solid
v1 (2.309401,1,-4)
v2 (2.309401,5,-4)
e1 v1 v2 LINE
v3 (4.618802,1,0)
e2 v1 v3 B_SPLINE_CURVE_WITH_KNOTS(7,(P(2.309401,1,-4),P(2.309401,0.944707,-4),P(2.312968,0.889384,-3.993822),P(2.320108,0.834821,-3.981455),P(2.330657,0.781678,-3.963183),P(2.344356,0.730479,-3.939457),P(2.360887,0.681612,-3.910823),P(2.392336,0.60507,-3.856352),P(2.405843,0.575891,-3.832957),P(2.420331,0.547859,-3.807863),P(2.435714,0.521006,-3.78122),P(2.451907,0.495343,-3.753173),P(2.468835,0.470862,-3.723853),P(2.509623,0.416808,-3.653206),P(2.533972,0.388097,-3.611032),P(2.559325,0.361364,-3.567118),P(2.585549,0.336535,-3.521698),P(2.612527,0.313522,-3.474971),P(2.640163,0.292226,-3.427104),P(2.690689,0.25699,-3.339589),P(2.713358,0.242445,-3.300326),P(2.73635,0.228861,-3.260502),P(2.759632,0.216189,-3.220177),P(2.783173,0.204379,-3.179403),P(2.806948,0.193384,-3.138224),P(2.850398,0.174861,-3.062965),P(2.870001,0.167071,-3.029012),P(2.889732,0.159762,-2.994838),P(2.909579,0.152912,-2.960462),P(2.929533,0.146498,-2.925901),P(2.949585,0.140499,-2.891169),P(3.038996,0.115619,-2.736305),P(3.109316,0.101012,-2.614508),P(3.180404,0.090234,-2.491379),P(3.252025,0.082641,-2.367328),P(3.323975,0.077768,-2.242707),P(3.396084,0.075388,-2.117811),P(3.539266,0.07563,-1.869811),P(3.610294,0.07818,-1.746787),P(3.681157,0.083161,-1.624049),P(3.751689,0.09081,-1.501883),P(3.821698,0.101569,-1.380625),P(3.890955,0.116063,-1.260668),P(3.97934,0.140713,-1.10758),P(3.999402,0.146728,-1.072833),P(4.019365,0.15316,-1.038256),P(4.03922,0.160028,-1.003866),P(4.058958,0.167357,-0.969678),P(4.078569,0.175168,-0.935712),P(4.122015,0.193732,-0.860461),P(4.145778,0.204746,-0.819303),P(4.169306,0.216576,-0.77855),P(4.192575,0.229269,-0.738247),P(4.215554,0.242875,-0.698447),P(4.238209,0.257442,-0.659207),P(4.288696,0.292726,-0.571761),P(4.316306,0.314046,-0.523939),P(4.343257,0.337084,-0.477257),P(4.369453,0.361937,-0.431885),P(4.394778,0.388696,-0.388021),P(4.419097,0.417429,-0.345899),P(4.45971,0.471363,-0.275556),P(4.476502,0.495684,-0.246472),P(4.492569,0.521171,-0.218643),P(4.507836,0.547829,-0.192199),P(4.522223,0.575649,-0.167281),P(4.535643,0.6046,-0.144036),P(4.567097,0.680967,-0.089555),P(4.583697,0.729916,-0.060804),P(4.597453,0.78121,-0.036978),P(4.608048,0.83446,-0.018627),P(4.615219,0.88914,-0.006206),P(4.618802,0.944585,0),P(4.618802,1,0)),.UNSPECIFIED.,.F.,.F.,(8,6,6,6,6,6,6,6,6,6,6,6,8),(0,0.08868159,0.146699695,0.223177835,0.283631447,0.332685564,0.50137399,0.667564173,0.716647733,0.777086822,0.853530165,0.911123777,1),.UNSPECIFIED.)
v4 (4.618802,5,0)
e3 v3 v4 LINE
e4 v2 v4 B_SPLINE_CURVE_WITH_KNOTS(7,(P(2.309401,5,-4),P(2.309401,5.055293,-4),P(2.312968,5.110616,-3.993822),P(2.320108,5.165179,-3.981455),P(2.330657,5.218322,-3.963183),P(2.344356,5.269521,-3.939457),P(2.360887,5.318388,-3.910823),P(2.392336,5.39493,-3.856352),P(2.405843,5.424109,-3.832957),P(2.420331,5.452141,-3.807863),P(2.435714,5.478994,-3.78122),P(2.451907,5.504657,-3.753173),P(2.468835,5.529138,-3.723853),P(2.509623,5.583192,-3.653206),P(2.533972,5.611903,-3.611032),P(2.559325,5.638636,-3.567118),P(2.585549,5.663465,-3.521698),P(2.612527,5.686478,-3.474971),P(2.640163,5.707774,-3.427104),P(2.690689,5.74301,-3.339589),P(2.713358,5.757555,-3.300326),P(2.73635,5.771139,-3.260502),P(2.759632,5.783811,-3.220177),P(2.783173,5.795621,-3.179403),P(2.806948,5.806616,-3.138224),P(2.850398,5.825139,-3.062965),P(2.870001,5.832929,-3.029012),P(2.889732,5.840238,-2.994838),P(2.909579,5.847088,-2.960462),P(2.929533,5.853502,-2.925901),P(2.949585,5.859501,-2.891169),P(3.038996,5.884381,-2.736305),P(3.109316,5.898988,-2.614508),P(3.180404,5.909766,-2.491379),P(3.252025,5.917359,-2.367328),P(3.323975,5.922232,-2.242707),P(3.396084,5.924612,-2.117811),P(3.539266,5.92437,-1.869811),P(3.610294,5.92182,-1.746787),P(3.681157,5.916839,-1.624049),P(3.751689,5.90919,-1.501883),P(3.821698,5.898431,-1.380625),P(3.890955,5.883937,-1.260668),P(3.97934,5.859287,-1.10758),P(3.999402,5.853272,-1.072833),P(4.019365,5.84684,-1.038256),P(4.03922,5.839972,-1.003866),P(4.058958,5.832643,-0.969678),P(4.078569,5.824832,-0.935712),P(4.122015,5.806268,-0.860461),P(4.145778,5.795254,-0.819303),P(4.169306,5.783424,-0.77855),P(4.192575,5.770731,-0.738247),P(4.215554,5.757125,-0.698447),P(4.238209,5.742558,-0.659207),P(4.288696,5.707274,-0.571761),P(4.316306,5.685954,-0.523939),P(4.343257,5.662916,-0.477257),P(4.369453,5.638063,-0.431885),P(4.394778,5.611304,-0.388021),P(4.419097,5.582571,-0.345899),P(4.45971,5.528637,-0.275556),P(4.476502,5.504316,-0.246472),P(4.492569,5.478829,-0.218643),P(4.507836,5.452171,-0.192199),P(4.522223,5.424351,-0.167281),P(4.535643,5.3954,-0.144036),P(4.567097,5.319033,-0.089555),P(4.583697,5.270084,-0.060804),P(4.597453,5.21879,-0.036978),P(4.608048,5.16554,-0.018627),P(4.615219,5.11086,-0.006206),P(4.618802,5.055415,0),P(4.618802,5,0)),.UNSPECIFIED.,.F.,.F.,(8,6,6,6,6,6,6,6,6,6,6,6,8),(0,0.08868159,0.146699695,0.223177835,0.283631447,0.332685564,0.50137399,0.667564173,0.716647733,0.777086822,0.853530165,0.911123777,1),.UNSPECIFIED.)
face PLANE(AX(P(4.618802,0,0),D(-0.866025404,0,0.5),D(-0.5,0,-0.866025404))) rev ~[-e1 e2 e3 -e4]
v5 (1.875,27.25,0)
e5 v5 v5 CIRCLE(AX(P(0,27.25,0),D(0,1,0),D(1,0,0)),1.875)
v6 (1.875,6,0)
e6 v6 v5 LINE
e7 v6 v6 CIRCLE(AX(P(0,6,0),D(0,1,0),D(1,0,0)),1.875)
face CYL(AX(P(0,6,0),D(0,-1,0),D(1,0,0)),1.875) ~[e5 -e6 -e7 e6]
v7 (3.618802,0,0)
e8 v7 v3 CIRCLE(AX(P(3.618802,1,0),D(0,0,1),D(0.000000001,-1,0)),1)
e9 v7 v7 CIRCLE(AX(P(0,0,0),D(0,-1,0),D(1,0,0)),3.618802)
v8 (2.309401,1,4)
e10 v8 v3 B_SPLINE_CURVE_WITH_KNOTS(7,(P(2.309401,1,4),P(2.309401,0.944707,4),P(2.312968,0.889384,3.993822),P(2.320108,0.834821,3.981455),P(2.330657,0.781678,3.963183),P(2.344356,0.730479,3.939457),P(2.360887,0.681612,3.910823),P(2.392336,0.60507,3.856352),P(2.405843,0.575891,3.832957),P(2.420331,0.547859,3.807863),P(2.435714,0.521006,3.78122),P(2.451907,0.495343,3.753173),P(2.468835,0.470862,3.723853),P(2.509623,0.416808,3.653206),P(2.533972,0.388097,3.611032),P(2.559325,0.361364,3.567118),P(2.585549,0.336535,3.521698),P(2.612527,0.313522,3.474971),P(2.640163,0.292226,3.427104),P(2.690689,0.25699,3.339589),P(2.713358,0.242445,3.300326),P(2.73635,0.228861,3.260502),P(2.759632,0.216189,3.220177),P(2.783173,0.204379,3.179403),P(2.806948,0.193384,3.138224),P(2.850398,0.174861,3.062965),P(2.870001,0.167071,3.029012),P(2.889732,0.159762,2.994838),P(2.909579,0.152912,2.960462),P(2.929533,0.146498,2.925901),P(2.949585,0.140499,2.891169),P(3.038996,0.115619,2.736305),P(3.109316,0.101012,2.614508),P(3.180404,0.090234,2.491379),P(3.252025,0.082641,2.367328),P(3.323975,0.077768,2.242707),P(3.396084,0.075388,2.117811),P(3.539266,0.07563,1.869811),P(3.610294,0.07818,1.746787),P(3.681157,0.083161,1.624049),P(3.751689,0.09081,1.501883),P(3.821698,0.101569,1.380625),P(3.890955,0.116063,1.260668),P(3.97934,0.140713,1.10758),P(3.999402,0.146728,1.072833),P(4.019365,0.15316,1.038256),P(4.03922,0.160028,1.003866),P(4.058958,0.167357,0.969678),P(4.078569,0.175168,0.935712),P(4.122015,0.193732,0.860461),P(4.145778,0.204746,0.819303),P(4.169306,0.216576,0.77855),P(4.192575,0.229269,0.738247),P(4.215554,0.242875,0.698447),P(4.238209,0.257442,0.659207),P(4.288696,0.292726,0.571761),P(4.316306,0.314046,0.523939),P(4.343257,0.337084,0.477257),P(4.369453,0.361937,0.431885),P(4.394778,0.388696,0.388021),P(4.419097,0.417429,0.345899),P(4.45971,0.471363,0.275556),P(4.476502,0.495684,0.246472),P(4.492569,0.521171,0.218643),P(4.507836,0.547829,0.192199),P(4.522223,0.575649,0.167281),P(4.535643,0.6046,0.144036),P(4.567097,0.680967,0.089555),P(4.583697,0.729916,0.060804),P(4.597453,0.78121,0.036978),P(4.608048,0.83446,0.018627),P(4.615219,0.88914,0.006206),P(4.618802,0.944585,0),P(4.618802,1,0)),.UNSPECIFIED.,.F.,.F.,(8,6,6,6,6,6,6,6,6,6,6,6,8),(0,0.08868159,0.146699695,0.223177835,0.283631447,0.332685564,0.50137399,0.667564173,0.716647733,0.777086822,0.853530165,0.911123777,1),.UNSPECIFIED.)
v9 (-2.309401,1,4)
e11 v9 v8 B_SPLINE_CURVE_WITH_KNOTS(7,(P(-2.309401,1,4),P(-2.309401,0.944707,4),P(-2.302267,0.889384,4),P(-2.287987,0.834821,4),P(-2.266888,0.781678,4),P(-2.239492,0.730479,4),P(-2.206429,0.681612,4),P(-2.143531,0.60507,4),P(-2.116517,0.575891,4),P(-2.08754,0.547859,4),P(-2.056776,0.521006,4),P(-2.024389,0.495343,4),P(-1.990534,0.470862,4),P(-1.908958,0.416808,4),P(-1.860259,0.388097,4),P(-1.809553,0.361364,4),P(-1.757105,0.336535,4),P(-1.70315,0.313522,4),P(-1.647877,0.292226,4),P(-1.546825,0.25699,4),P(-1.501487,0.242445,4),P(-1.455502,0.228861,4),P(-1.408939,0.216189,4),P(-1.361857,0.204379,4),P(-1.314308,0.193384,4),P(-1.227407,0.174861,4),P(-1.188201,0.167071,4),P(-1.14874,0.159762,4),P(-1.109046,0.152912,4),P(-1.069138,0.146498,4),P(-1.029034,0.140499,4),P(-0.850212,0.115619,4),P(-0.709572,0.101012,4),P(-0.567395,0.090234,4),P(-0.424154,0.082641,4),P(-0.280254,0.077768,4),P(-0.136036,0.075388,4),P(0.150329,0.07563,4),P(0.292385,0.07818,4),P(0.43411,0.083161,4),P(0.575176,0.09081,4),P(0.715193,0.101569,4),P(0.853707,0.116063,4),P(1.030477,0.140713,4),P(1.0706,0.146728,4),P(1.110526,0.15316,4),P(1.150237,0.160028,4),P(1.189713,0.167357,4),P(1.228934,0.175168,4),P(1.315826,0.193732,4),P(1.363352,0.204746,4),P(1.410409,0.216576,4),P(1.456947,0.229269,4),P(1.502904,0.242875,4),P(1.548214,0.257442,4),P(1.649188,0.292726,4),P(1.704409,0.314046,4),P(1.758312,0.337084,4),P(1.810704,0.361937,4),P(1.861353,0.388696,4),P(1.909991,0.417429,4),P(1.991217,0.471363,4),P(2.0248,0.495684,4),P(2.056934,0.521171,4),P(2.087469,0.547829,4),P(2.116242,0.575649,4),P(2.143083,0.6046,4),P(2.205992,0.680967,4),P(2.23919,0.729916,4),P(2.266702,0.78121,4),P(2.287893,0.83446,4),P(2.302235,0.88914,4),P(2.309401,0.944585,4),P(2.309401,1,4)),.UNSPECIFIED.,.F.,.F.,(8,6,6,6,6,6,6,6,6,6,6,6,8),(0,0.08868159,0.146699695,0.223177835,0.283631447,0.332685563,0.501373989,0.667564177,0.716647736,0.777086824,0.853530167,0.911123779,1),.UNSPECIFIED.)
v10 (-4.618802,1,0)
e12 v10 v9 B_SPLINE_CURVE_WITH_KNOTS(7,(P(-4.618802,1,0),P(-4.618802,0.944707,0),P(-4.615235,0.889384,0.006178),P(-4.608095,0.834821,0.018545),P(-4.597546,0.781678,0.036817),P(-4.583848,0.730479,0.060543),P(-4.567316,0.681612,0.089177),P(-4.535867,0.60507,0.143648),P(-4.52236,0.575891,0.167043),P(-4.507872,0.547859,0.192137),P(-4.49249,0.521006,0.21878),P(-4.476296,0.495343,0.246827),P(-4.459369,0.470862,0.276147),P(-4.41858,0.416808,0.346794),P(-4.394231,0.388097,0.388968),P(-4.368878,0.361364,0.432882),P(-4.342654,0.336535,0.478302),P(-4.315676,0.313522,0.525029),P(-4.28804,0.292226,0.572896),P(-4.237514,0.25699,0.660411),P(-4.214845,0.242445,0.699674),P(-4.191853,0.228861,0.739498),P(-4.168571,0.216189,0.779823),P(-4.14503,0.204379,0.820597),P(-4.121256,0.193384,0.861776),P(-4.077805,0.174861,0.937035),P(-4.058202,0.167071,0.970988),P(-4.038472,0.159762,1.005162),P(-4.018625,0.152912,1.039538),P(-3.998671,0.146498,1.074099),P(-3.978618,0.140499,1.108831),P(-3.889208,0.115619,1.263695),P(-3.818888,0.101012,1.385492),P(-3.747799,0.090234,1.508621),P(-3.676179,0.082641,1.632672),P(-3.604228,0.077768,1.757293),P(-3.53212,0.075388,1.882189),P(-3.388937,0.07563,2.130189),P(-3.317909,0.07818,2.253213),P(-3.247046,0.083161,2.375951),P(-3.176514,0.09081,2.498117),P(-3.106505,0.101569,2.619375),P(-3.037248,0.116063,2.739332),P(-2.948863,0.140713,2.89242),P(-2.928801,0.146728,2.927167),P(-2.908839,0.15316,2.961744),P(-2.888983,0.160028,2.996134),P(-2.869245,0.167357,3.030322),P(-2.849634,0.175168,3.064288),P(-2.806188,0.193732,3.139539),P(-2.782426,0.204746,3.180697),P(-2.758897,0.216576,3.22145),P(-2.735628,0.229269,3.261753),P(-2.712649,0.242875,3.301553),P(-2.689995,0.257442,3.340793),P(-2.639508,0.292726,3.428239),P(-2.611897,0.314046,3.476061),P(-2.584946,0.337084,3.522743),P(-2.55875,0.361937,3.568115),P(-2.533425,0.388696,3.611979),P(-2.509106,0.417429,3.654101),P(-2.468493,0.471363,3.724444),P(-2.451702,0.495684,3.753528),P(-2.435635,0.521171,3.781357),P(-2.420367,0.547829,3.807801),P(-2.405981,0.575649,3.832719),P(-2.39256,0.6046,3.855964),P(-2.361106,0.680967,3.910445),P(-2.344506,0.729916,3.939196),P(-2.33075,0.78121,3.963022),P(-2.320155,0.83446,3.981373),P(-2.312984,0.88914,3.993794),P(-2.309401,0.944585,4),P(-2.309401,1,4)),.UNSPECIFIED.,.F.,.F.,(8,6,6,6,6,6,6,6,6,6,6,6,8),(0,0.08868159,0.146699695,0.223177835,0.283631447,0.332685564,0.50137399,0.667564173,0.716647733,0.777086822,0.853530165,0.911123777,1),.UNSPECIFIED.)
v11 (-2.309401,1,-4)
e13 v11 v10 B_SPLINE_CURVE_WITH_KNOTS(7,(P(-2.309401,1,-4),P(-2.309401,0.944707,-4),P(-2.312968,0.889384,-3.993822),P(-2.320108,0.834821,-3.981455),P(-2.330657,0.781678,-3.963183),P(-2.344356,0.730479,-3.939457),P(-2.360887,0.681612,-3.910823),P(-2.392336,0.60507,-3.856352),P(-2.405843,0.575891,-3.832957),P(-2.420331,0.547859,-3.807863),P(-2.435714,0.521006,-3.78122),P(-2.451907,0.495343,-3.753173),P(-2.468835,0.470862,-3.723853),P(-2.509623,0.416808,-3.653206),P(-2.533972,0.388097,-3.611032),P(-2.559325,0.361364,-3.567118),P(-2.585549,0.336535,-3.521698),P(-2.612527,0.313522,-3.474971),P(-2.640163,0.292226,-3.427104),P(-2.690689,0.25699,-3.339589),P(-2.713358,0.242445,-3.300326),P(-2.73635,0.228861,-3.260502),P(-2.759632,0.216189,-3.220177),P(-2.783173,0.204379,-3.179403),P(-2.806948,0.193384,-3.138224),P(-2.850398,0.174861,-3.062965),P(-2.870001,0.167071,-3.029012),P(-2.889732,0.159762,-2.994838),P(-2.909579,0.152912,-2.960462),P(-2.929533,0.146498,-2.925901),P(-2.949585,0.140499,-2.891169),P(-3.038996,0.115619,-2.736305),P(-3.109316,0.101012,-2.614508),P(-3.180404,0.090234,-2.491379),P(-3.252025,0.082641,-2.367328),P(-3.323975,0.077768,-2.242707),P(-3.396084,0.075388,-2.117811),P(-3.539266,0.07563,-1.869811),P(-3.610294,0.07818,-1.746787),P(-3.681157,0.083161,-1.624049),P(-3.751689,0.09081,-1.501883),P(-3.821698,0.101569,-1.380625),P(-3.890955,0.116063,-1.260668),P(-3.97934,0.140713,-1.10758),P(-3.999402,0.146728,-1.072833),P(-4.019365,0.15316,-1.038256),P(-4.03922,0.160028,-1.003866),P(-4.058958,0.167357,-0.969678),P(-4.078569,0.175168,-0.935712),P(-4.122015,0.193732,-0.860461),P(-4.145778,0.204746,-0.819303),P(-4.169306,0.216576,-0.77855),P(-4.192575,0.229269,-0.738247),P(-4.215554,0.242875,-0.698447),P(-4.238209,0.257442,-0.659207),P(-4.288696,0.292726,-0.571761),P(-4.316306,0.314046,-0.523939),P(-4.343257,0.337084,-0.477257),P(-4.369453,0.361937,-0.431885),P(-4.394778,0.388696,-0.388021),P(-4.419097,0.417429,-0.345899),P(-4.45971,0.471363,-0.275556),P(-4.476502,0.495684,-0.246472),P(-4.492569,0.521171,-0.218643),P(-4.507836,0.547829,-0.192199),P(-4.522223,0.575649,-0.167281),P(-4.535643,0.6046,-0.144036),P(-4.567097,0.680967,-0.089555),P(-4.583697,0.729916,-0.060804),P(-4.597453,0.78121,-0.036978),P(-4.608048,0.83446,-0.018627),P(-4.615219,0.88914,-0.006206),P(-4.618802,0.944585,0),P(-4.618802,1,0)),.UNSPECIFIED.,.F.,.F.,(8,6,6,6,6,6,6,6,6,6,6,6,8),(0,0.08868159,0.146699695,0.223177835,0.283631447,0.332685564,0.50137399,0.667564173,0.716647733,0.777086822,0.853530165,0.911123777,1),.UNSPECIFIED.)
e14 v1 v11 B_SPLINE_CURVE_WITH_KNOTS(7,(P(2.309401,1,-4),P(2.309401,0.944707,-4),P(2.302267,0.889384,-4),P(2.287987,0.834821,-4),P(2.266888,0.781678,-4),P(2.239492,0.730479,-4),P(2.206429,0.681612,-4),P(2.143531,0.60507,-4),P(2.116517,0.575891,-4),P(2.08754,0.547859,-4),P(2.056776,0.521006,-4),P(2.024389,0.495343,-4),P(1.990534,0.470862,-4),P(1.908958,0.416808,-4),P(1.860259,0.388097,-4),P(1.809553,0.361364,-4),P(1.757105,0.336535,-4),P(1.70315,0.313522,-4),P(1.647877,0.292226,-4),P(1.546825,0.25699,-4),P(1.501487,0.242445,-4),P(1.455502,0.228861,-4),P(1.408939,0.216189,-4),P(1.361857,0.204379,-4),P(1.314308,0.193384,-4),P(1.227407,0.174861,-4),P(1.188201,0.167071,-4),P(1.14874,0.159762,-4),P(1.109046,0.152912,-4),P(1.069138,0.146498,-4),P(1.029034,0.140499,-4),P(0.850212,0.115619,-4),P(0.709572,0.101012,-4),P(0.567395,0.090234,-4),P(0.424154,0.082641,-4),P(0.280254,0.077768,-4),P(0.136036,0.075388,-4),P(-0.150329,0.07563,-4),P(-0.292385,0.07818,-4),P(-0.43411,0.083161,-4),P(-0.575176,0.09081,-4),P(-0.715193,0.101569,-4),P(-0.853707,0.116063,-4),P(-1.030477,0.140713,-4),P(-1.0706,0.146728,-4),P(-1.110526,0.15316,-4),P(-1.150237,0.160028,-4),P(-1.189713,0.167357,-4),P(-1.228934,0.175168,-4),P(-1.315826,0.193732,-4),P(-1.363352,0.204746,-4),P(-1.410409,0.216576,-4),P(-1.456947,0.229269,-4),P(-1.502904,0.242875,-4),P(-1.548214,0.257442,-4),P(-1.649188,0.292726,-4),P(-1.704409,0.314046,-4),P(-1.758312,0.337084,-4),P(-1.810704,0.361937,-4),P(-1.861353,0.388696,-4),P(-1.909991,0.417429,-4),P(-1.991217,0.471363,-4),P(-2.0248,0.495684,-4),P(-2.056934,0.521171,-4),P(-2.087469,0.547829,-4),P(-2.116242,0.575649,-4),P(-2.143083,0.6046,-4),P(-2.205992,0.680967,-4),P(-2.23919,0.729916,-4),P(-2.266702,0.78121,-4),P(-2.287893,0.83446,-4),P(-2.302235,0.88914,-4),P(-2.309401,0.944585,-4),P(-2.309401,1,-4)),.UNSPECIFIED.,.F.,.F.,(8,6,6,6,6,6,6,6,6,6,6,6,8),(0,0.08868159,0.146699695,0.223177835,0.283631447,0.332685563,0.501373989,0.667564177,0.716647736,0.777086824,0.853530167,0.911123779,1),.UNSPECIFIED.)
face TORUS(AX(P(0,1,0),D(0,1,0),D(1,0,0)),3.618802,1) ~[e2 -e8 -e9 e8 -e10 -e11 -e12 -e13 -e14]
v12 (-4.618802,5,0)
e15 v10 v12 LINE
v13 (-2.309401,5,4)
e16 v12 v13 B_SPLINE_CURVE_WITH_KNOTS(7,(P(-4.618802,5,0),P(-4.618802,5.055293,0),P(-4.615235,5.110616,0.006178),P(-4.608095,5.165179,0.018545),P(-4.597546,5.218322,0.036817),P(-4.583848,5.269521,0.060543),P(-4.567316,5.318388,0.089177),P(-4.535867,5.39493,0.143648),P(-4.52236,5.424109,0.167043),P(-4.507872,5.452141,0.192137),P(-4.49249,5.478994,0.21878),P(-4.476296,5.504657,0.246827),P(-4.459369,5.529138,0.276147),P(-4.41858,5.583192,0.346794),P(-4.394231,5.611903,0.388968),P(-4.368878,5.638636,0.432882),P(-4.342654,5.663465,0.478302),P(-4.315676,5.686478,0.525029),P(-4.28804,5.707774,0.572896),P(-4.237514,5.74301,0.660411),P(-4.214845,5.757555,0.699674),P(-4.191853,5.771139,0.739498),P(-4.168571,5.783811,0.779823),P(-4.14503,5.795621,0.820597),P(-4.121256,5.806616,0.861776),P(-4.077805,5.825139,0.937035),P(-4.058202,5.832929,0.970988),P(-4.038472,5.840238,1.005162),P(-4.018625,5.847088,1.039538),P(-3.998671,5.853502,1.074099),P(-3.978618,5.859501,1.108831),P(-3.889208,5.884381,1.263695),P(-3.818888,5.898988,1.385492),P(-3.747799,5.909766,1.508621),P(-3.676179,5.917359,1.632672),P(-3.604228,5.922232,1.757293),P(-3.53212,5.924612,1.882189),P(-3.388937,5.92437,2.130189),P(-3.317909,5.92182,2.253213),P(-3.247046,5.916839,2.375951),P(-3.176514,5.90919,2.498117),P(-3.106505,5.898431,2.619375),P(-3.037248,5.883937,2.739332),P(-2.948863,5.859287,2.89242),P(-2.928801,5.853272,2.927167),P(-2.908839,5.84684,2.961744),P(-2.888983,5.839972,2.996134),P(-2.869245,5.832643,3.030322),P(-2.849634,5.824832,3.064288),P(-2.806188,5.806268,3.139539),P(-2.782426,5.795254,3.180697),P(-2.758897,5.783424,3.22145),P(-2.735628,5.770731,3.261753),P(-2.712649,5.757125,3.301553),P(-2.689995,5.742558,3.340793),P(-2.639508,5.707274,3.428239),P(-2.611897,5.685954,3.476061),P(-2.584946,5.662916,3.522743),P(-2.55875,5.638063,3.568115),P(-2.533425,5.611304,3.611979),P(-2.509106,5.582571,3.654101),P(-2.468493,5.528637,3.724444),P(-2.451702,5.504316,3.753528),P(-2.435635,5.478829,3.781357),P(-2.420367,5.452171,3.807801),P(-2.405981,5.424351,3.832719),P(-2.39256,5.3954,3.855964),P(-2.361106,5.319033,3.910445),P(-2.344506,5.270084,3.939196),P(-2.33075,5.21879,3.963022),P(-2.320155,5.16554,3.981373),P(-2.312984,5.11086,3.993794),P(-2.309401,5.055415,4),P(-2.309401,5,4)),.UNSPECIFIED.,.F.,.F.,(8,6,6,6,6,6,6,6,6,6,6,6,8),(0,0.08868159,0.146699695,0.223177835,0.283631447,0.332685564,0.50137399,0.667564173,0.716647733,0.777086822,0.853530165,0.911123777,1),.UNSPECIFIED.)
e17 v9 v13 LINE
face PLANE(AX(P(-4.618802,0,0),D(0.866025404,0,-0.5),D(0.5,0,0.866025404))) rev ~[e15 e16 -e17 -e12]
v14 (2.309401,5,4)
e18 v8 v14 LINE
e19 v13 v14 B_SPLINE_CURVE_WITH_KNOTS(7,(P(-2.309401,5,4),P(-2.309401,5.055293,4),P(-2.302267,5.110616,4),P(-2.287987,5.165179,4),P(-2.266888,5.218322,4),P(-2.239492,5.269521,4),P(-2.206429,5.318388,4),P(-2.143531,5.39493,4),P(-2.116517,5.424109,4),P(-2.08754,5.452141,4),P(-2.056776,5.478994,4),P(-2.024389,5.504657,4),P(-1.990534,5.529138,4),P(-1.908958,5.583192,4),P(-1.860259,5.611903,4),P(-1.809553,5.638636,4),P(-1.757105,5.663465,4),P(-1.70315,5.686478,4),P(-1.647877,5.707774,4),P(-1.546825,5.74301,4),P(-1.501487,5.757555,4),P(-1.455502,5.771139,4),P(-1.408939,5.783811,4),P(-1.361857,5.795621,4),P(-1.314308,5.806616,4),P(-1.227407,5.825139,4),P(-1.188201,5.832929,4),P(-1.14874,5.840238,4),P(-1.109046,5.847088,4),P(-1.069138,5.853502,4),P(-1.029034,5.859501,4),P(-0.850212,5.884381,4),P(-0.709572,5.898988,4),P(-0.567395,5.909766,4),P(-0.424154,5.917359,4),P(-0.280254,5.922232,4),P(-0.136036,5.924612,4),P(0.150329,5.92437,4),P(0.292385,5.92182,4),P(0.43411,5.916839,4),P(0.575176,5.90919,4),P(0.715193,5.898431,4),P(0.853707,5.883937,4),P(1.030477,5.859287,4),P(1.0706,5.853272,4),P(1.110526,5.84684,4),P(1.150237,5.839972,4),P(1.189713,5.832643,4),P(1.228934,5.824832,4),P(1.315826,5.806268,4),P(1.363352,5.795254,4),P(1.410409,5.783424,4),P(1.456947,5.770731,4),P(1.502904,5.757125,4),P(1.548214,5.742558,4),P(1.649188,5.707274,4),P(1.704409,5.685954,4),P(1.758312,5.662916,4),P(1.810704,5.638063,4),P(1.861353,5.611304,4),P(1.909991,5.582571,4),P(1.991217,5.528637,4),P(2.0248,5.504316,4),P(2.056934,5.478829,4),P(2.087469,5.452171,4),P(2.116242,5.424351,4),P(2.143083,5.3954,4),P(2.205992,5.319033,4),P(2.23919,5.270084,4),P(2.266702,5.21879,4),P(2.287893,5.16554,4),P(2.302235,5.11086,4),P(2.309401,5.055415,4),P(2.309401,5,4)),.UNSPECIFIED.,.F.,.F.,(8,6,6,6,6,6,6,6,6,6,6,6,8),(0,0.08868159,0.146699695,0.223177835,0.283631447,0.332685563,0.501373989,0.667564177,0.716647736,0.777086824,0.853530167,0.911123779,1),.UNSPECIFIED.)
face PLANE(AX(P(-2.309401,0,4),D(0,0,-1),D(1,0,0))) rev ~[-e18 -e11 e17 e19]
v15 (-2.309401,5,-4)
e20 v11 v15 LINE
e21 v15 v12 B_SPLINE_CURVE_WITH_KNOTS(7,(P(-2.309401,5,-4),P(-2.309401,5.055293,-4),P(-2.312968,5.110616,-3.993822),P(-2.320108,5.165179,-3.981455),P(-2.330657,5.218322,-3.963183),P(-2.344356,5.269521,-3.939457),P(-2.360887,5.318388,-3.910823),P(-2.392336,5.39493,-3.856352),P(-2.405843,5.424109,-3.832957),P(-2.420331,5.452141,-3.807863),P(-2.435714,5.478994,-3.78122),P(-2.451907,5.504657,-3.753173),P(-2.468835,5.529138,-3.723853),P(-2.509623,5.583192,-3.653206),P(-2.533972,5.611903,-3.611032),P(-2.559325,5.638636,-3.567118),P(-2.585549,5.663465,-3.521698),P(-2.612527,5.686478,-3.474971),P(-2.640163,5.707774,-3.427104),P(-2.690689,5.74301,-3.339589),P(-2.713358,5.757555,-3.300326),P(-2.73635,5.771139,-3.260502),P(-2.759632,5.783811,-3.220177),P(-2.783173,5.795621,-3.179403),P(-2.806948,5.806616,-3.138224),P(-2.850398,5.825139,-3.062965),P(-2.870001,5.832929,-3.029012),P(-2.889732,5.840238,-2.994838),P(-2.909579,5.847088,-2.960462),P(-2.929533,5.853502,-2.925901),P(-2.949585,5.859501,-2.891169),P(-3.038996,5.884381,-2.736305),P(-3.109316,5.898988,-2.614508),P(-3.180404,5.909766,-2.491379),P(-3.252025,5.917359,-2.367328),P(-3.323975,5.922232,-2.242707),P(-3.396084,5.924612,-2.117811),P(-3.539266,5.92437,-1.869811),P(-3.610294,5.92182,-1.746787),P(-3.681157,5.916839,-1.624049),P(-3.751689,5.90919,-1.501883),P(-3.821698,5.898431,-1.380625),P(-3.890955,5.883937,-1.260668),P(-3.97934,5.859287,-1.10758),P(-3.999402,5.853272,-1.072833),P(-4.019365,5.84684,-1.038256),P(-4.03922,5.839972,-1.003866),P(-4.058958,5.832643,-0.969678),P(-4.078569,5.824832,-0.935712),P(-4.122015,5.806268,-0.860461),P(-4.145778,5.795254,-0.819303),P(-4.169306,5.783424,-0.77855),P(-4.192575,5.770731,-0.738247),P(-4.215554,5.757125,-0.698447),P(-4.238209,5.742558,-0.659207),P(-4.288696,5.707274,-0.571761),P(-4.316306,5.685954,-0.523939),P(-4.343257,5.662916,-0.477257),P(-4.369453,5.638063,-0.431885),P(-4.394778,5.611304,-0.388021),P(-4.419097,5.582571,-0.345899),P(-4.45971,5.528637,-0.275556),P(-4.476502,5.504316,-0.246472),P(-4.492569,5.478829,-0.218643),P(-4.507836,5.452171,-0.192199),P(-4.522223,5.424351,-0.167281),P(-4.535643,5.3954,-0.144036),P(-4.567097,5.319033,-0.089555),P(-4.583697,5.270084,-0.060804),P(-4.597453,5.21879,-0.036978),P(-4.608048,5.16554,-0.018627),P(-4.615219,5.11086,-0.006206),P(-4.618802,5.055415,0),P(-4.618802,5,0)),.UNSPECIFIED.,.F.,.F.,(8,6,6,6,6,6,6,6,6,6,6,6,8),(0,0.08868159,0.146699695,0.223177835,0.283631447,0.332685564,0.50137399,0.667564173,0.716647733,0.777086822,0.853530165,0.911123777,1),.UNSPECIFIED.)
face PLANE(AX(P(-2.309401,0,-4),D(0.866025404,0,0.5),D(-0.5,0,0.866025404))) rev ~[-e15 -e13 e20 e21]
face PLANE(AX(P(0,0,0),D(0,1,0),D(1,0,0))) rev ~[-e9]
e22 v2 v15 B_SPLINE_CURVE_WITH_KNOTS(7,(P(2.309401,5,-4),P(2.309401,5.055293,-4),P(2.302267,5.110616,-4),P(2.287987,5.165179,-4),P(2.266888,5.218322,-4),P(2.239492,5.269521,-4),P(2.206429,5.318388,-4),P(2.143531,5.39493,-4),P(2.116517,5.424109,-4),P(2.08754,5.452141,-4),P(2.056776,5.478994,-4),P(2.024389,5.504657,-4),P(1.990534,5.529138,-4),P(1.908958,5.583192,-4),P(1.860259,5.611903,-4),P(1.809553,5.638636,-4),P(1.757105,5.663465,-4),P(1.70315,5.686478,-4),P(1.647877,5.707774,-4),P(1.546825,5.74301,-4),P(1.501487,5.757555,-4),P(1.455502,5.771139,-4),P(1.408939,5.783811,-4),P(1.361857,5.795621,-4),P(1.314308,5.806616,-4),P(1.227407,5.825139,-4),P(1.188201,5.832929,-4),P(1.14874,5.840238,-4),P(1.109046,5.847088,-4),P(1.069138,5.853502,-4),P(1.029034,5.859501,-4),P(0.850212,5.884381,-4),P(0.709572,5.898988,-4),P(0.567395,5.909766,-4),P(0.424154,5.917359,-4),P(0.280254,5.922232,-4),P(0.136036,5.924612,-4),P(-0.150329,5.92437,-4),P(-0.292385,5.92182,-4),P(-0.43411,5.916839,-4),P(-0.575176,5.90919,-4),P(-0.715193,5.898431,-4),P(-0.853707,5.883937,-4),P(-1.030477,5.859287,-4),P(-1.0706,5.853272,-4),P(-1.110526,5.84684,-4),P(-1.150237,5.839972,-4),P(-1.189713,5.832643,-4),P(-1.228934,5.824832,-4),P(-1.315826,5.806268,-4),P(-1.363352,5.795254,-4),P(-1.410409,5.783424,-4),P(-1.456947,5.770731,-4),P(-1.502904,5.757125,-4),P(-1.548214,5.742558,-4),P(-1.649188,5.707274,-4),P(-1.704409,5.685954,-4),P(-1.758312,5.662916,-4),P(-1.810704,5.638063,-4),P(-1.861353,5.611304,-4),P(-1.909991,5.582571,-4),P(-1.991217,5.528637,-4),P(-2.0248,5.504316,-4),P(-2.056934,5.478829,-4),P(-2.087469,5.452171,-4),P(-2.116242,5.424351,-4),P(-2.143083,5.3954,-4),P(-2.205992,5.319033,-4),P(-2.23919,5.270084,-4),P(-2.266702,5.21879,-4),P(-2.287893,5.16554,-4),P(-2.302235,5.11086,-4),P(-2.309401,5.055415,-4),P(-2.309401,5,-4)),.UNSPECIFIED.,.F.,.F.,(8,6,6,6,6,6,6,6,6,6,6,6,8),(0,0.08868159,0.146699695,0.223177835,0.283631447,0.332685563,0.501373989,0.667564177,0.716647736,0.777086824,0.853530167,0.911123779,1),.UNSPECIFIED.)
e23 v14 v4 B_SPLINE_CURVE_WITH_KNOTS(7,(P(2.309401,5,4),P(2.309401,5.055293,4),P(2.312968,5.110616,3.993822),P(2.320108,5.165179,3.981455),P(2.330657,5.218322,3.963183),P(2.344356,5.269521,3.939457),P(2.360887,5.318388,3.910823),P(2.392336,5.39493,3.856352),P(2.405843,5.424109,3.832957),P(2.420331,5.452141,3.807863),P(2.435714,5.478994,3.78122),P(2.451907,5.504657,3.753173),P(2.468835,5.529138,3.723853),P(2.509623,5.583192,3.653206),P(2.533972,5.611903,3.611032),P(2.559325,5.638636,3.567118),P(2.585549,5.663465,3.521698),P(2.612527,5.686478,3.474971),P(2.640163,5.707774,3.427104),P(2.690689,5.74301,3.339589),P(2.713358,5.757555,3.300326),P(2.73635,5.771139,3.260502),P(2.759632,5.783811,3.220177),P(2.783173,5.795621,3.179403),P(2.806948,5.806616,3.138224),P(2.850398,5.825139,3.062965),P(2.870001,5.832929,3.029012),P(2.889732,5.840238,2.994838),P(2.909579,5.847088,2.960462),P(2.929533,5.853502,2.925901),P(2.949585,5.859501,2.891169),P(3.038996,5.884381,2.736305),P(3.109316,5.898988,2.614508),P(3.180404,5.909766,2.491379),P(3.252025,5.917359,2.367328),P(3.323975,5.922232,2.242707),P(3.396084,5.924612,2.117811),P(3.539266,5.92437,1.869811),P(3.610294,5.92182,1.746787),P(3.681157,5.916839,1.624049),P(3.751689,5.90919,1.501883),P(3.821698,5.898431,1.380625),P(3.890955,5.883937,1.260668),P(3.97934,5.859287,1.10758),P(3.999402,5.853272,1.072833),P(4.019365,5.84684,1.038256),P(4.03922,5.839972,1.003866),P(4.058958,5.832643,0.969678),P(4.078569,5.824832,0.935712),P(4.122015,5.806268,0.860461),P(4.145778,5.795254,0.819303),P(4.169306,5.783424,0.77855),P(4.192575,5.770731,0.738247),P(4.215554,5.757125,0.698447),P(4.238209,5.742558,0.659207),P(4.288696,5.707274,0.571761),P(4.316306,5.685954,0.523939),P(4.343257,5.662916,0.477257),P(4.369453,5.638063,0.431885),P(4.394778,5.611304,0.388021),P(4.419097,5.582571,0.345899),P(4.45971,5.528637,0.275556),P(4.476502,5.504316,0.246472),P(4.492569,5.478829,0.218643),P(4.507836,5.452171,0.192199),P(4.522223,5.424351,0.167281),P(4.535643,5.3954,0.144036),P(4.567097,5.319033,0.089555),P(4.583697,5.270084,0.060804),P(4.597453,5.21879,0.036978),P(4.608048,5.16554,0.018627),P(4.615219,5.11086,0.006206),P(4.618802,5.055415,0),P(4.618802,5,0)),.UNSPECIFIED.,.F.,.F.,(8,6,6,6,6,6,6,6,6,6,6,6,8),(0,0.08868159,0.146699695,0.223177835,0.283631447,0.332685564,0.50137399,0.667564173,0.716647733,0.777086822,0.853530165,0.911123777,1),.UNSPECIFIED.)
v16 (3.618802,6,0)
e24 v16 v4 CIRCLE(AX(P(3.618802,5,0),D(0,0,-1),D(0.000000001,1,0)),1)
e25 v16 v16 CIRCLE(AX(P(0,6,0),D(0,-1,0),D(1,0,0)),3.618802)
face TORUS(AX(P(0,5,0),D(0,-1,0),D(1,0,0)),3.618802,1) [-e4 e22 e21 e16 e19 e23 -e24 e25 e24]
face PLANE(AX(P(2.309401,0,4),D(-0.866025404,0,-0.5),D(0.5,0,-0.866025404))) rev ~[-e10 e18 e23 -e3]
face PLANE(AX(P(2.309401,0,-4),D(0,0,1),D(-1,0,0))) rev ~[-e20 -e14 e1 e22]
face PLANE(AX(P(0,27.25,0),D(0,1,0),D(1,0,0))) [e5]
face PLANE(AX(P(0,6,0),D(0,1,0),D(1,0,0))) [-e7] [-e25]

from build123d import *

# Parameters (mm, degrees)
BOSS_EXTRUDE1_DEPTH = 6
SKETCH2_R           = 1.875
BOSS_EXTRUDE2_DEPTH = 21.25


with BuildPart() as part:
    # Sketch1 → Boss-Extrude1 (new body)
    with BuildSketch(Plane(origin=(0, 0, 0), x_dir=(1, 0, 0), z_dir=(0, 1, 0))):
        Polygon((4.618802154, 0), (2.309401077, 4), (-2.309401077, 4), (-4.618802154, 0), (-2.309401077, -4), (2.309401077, -4), align=None)
    extrude(amount=BOSS_EXTRUDE1_DEPTH)

    # Sketch2 → Boss-Extrude2 (add)
    with BuildSketch(Plane(origin=(0, 6, 0), x_dir=(1, 0, 0), z_dir=(0, 1, 0))):
        Circle(SKETCH2_R)
    extrude(amount=BOSS_EXTRUDE2_DEPTH)

    # Sketch3 → Cut-Revolve1 (revolve, cut)
    with BuildSketch(Plane.XY):
        with BuildLine():
            Line((4.618802154, 0), (3.618802154, 0))
            ThreePointArc((3.618802154, 0), (4.325908935, 0.292893219), (4.618802154, 1))
            Line((4.618802154, 1), (4.618802154, 0))
        make_face()
        with BuildLine():
            Line((4.618802154, 5), (4.618802154, 6))
            Line((4.618802154, 6), (3.618802154, 6))
            ThreePointArc((3.618802154, 6), (4.325908935, 5.707106781), (4.618802154, 5))
        make_face()
    revolve(axis=Axis((0, 0, 0), (0, -1, 0)), mode=Mode.SUBTRACT)


solid = part.part
